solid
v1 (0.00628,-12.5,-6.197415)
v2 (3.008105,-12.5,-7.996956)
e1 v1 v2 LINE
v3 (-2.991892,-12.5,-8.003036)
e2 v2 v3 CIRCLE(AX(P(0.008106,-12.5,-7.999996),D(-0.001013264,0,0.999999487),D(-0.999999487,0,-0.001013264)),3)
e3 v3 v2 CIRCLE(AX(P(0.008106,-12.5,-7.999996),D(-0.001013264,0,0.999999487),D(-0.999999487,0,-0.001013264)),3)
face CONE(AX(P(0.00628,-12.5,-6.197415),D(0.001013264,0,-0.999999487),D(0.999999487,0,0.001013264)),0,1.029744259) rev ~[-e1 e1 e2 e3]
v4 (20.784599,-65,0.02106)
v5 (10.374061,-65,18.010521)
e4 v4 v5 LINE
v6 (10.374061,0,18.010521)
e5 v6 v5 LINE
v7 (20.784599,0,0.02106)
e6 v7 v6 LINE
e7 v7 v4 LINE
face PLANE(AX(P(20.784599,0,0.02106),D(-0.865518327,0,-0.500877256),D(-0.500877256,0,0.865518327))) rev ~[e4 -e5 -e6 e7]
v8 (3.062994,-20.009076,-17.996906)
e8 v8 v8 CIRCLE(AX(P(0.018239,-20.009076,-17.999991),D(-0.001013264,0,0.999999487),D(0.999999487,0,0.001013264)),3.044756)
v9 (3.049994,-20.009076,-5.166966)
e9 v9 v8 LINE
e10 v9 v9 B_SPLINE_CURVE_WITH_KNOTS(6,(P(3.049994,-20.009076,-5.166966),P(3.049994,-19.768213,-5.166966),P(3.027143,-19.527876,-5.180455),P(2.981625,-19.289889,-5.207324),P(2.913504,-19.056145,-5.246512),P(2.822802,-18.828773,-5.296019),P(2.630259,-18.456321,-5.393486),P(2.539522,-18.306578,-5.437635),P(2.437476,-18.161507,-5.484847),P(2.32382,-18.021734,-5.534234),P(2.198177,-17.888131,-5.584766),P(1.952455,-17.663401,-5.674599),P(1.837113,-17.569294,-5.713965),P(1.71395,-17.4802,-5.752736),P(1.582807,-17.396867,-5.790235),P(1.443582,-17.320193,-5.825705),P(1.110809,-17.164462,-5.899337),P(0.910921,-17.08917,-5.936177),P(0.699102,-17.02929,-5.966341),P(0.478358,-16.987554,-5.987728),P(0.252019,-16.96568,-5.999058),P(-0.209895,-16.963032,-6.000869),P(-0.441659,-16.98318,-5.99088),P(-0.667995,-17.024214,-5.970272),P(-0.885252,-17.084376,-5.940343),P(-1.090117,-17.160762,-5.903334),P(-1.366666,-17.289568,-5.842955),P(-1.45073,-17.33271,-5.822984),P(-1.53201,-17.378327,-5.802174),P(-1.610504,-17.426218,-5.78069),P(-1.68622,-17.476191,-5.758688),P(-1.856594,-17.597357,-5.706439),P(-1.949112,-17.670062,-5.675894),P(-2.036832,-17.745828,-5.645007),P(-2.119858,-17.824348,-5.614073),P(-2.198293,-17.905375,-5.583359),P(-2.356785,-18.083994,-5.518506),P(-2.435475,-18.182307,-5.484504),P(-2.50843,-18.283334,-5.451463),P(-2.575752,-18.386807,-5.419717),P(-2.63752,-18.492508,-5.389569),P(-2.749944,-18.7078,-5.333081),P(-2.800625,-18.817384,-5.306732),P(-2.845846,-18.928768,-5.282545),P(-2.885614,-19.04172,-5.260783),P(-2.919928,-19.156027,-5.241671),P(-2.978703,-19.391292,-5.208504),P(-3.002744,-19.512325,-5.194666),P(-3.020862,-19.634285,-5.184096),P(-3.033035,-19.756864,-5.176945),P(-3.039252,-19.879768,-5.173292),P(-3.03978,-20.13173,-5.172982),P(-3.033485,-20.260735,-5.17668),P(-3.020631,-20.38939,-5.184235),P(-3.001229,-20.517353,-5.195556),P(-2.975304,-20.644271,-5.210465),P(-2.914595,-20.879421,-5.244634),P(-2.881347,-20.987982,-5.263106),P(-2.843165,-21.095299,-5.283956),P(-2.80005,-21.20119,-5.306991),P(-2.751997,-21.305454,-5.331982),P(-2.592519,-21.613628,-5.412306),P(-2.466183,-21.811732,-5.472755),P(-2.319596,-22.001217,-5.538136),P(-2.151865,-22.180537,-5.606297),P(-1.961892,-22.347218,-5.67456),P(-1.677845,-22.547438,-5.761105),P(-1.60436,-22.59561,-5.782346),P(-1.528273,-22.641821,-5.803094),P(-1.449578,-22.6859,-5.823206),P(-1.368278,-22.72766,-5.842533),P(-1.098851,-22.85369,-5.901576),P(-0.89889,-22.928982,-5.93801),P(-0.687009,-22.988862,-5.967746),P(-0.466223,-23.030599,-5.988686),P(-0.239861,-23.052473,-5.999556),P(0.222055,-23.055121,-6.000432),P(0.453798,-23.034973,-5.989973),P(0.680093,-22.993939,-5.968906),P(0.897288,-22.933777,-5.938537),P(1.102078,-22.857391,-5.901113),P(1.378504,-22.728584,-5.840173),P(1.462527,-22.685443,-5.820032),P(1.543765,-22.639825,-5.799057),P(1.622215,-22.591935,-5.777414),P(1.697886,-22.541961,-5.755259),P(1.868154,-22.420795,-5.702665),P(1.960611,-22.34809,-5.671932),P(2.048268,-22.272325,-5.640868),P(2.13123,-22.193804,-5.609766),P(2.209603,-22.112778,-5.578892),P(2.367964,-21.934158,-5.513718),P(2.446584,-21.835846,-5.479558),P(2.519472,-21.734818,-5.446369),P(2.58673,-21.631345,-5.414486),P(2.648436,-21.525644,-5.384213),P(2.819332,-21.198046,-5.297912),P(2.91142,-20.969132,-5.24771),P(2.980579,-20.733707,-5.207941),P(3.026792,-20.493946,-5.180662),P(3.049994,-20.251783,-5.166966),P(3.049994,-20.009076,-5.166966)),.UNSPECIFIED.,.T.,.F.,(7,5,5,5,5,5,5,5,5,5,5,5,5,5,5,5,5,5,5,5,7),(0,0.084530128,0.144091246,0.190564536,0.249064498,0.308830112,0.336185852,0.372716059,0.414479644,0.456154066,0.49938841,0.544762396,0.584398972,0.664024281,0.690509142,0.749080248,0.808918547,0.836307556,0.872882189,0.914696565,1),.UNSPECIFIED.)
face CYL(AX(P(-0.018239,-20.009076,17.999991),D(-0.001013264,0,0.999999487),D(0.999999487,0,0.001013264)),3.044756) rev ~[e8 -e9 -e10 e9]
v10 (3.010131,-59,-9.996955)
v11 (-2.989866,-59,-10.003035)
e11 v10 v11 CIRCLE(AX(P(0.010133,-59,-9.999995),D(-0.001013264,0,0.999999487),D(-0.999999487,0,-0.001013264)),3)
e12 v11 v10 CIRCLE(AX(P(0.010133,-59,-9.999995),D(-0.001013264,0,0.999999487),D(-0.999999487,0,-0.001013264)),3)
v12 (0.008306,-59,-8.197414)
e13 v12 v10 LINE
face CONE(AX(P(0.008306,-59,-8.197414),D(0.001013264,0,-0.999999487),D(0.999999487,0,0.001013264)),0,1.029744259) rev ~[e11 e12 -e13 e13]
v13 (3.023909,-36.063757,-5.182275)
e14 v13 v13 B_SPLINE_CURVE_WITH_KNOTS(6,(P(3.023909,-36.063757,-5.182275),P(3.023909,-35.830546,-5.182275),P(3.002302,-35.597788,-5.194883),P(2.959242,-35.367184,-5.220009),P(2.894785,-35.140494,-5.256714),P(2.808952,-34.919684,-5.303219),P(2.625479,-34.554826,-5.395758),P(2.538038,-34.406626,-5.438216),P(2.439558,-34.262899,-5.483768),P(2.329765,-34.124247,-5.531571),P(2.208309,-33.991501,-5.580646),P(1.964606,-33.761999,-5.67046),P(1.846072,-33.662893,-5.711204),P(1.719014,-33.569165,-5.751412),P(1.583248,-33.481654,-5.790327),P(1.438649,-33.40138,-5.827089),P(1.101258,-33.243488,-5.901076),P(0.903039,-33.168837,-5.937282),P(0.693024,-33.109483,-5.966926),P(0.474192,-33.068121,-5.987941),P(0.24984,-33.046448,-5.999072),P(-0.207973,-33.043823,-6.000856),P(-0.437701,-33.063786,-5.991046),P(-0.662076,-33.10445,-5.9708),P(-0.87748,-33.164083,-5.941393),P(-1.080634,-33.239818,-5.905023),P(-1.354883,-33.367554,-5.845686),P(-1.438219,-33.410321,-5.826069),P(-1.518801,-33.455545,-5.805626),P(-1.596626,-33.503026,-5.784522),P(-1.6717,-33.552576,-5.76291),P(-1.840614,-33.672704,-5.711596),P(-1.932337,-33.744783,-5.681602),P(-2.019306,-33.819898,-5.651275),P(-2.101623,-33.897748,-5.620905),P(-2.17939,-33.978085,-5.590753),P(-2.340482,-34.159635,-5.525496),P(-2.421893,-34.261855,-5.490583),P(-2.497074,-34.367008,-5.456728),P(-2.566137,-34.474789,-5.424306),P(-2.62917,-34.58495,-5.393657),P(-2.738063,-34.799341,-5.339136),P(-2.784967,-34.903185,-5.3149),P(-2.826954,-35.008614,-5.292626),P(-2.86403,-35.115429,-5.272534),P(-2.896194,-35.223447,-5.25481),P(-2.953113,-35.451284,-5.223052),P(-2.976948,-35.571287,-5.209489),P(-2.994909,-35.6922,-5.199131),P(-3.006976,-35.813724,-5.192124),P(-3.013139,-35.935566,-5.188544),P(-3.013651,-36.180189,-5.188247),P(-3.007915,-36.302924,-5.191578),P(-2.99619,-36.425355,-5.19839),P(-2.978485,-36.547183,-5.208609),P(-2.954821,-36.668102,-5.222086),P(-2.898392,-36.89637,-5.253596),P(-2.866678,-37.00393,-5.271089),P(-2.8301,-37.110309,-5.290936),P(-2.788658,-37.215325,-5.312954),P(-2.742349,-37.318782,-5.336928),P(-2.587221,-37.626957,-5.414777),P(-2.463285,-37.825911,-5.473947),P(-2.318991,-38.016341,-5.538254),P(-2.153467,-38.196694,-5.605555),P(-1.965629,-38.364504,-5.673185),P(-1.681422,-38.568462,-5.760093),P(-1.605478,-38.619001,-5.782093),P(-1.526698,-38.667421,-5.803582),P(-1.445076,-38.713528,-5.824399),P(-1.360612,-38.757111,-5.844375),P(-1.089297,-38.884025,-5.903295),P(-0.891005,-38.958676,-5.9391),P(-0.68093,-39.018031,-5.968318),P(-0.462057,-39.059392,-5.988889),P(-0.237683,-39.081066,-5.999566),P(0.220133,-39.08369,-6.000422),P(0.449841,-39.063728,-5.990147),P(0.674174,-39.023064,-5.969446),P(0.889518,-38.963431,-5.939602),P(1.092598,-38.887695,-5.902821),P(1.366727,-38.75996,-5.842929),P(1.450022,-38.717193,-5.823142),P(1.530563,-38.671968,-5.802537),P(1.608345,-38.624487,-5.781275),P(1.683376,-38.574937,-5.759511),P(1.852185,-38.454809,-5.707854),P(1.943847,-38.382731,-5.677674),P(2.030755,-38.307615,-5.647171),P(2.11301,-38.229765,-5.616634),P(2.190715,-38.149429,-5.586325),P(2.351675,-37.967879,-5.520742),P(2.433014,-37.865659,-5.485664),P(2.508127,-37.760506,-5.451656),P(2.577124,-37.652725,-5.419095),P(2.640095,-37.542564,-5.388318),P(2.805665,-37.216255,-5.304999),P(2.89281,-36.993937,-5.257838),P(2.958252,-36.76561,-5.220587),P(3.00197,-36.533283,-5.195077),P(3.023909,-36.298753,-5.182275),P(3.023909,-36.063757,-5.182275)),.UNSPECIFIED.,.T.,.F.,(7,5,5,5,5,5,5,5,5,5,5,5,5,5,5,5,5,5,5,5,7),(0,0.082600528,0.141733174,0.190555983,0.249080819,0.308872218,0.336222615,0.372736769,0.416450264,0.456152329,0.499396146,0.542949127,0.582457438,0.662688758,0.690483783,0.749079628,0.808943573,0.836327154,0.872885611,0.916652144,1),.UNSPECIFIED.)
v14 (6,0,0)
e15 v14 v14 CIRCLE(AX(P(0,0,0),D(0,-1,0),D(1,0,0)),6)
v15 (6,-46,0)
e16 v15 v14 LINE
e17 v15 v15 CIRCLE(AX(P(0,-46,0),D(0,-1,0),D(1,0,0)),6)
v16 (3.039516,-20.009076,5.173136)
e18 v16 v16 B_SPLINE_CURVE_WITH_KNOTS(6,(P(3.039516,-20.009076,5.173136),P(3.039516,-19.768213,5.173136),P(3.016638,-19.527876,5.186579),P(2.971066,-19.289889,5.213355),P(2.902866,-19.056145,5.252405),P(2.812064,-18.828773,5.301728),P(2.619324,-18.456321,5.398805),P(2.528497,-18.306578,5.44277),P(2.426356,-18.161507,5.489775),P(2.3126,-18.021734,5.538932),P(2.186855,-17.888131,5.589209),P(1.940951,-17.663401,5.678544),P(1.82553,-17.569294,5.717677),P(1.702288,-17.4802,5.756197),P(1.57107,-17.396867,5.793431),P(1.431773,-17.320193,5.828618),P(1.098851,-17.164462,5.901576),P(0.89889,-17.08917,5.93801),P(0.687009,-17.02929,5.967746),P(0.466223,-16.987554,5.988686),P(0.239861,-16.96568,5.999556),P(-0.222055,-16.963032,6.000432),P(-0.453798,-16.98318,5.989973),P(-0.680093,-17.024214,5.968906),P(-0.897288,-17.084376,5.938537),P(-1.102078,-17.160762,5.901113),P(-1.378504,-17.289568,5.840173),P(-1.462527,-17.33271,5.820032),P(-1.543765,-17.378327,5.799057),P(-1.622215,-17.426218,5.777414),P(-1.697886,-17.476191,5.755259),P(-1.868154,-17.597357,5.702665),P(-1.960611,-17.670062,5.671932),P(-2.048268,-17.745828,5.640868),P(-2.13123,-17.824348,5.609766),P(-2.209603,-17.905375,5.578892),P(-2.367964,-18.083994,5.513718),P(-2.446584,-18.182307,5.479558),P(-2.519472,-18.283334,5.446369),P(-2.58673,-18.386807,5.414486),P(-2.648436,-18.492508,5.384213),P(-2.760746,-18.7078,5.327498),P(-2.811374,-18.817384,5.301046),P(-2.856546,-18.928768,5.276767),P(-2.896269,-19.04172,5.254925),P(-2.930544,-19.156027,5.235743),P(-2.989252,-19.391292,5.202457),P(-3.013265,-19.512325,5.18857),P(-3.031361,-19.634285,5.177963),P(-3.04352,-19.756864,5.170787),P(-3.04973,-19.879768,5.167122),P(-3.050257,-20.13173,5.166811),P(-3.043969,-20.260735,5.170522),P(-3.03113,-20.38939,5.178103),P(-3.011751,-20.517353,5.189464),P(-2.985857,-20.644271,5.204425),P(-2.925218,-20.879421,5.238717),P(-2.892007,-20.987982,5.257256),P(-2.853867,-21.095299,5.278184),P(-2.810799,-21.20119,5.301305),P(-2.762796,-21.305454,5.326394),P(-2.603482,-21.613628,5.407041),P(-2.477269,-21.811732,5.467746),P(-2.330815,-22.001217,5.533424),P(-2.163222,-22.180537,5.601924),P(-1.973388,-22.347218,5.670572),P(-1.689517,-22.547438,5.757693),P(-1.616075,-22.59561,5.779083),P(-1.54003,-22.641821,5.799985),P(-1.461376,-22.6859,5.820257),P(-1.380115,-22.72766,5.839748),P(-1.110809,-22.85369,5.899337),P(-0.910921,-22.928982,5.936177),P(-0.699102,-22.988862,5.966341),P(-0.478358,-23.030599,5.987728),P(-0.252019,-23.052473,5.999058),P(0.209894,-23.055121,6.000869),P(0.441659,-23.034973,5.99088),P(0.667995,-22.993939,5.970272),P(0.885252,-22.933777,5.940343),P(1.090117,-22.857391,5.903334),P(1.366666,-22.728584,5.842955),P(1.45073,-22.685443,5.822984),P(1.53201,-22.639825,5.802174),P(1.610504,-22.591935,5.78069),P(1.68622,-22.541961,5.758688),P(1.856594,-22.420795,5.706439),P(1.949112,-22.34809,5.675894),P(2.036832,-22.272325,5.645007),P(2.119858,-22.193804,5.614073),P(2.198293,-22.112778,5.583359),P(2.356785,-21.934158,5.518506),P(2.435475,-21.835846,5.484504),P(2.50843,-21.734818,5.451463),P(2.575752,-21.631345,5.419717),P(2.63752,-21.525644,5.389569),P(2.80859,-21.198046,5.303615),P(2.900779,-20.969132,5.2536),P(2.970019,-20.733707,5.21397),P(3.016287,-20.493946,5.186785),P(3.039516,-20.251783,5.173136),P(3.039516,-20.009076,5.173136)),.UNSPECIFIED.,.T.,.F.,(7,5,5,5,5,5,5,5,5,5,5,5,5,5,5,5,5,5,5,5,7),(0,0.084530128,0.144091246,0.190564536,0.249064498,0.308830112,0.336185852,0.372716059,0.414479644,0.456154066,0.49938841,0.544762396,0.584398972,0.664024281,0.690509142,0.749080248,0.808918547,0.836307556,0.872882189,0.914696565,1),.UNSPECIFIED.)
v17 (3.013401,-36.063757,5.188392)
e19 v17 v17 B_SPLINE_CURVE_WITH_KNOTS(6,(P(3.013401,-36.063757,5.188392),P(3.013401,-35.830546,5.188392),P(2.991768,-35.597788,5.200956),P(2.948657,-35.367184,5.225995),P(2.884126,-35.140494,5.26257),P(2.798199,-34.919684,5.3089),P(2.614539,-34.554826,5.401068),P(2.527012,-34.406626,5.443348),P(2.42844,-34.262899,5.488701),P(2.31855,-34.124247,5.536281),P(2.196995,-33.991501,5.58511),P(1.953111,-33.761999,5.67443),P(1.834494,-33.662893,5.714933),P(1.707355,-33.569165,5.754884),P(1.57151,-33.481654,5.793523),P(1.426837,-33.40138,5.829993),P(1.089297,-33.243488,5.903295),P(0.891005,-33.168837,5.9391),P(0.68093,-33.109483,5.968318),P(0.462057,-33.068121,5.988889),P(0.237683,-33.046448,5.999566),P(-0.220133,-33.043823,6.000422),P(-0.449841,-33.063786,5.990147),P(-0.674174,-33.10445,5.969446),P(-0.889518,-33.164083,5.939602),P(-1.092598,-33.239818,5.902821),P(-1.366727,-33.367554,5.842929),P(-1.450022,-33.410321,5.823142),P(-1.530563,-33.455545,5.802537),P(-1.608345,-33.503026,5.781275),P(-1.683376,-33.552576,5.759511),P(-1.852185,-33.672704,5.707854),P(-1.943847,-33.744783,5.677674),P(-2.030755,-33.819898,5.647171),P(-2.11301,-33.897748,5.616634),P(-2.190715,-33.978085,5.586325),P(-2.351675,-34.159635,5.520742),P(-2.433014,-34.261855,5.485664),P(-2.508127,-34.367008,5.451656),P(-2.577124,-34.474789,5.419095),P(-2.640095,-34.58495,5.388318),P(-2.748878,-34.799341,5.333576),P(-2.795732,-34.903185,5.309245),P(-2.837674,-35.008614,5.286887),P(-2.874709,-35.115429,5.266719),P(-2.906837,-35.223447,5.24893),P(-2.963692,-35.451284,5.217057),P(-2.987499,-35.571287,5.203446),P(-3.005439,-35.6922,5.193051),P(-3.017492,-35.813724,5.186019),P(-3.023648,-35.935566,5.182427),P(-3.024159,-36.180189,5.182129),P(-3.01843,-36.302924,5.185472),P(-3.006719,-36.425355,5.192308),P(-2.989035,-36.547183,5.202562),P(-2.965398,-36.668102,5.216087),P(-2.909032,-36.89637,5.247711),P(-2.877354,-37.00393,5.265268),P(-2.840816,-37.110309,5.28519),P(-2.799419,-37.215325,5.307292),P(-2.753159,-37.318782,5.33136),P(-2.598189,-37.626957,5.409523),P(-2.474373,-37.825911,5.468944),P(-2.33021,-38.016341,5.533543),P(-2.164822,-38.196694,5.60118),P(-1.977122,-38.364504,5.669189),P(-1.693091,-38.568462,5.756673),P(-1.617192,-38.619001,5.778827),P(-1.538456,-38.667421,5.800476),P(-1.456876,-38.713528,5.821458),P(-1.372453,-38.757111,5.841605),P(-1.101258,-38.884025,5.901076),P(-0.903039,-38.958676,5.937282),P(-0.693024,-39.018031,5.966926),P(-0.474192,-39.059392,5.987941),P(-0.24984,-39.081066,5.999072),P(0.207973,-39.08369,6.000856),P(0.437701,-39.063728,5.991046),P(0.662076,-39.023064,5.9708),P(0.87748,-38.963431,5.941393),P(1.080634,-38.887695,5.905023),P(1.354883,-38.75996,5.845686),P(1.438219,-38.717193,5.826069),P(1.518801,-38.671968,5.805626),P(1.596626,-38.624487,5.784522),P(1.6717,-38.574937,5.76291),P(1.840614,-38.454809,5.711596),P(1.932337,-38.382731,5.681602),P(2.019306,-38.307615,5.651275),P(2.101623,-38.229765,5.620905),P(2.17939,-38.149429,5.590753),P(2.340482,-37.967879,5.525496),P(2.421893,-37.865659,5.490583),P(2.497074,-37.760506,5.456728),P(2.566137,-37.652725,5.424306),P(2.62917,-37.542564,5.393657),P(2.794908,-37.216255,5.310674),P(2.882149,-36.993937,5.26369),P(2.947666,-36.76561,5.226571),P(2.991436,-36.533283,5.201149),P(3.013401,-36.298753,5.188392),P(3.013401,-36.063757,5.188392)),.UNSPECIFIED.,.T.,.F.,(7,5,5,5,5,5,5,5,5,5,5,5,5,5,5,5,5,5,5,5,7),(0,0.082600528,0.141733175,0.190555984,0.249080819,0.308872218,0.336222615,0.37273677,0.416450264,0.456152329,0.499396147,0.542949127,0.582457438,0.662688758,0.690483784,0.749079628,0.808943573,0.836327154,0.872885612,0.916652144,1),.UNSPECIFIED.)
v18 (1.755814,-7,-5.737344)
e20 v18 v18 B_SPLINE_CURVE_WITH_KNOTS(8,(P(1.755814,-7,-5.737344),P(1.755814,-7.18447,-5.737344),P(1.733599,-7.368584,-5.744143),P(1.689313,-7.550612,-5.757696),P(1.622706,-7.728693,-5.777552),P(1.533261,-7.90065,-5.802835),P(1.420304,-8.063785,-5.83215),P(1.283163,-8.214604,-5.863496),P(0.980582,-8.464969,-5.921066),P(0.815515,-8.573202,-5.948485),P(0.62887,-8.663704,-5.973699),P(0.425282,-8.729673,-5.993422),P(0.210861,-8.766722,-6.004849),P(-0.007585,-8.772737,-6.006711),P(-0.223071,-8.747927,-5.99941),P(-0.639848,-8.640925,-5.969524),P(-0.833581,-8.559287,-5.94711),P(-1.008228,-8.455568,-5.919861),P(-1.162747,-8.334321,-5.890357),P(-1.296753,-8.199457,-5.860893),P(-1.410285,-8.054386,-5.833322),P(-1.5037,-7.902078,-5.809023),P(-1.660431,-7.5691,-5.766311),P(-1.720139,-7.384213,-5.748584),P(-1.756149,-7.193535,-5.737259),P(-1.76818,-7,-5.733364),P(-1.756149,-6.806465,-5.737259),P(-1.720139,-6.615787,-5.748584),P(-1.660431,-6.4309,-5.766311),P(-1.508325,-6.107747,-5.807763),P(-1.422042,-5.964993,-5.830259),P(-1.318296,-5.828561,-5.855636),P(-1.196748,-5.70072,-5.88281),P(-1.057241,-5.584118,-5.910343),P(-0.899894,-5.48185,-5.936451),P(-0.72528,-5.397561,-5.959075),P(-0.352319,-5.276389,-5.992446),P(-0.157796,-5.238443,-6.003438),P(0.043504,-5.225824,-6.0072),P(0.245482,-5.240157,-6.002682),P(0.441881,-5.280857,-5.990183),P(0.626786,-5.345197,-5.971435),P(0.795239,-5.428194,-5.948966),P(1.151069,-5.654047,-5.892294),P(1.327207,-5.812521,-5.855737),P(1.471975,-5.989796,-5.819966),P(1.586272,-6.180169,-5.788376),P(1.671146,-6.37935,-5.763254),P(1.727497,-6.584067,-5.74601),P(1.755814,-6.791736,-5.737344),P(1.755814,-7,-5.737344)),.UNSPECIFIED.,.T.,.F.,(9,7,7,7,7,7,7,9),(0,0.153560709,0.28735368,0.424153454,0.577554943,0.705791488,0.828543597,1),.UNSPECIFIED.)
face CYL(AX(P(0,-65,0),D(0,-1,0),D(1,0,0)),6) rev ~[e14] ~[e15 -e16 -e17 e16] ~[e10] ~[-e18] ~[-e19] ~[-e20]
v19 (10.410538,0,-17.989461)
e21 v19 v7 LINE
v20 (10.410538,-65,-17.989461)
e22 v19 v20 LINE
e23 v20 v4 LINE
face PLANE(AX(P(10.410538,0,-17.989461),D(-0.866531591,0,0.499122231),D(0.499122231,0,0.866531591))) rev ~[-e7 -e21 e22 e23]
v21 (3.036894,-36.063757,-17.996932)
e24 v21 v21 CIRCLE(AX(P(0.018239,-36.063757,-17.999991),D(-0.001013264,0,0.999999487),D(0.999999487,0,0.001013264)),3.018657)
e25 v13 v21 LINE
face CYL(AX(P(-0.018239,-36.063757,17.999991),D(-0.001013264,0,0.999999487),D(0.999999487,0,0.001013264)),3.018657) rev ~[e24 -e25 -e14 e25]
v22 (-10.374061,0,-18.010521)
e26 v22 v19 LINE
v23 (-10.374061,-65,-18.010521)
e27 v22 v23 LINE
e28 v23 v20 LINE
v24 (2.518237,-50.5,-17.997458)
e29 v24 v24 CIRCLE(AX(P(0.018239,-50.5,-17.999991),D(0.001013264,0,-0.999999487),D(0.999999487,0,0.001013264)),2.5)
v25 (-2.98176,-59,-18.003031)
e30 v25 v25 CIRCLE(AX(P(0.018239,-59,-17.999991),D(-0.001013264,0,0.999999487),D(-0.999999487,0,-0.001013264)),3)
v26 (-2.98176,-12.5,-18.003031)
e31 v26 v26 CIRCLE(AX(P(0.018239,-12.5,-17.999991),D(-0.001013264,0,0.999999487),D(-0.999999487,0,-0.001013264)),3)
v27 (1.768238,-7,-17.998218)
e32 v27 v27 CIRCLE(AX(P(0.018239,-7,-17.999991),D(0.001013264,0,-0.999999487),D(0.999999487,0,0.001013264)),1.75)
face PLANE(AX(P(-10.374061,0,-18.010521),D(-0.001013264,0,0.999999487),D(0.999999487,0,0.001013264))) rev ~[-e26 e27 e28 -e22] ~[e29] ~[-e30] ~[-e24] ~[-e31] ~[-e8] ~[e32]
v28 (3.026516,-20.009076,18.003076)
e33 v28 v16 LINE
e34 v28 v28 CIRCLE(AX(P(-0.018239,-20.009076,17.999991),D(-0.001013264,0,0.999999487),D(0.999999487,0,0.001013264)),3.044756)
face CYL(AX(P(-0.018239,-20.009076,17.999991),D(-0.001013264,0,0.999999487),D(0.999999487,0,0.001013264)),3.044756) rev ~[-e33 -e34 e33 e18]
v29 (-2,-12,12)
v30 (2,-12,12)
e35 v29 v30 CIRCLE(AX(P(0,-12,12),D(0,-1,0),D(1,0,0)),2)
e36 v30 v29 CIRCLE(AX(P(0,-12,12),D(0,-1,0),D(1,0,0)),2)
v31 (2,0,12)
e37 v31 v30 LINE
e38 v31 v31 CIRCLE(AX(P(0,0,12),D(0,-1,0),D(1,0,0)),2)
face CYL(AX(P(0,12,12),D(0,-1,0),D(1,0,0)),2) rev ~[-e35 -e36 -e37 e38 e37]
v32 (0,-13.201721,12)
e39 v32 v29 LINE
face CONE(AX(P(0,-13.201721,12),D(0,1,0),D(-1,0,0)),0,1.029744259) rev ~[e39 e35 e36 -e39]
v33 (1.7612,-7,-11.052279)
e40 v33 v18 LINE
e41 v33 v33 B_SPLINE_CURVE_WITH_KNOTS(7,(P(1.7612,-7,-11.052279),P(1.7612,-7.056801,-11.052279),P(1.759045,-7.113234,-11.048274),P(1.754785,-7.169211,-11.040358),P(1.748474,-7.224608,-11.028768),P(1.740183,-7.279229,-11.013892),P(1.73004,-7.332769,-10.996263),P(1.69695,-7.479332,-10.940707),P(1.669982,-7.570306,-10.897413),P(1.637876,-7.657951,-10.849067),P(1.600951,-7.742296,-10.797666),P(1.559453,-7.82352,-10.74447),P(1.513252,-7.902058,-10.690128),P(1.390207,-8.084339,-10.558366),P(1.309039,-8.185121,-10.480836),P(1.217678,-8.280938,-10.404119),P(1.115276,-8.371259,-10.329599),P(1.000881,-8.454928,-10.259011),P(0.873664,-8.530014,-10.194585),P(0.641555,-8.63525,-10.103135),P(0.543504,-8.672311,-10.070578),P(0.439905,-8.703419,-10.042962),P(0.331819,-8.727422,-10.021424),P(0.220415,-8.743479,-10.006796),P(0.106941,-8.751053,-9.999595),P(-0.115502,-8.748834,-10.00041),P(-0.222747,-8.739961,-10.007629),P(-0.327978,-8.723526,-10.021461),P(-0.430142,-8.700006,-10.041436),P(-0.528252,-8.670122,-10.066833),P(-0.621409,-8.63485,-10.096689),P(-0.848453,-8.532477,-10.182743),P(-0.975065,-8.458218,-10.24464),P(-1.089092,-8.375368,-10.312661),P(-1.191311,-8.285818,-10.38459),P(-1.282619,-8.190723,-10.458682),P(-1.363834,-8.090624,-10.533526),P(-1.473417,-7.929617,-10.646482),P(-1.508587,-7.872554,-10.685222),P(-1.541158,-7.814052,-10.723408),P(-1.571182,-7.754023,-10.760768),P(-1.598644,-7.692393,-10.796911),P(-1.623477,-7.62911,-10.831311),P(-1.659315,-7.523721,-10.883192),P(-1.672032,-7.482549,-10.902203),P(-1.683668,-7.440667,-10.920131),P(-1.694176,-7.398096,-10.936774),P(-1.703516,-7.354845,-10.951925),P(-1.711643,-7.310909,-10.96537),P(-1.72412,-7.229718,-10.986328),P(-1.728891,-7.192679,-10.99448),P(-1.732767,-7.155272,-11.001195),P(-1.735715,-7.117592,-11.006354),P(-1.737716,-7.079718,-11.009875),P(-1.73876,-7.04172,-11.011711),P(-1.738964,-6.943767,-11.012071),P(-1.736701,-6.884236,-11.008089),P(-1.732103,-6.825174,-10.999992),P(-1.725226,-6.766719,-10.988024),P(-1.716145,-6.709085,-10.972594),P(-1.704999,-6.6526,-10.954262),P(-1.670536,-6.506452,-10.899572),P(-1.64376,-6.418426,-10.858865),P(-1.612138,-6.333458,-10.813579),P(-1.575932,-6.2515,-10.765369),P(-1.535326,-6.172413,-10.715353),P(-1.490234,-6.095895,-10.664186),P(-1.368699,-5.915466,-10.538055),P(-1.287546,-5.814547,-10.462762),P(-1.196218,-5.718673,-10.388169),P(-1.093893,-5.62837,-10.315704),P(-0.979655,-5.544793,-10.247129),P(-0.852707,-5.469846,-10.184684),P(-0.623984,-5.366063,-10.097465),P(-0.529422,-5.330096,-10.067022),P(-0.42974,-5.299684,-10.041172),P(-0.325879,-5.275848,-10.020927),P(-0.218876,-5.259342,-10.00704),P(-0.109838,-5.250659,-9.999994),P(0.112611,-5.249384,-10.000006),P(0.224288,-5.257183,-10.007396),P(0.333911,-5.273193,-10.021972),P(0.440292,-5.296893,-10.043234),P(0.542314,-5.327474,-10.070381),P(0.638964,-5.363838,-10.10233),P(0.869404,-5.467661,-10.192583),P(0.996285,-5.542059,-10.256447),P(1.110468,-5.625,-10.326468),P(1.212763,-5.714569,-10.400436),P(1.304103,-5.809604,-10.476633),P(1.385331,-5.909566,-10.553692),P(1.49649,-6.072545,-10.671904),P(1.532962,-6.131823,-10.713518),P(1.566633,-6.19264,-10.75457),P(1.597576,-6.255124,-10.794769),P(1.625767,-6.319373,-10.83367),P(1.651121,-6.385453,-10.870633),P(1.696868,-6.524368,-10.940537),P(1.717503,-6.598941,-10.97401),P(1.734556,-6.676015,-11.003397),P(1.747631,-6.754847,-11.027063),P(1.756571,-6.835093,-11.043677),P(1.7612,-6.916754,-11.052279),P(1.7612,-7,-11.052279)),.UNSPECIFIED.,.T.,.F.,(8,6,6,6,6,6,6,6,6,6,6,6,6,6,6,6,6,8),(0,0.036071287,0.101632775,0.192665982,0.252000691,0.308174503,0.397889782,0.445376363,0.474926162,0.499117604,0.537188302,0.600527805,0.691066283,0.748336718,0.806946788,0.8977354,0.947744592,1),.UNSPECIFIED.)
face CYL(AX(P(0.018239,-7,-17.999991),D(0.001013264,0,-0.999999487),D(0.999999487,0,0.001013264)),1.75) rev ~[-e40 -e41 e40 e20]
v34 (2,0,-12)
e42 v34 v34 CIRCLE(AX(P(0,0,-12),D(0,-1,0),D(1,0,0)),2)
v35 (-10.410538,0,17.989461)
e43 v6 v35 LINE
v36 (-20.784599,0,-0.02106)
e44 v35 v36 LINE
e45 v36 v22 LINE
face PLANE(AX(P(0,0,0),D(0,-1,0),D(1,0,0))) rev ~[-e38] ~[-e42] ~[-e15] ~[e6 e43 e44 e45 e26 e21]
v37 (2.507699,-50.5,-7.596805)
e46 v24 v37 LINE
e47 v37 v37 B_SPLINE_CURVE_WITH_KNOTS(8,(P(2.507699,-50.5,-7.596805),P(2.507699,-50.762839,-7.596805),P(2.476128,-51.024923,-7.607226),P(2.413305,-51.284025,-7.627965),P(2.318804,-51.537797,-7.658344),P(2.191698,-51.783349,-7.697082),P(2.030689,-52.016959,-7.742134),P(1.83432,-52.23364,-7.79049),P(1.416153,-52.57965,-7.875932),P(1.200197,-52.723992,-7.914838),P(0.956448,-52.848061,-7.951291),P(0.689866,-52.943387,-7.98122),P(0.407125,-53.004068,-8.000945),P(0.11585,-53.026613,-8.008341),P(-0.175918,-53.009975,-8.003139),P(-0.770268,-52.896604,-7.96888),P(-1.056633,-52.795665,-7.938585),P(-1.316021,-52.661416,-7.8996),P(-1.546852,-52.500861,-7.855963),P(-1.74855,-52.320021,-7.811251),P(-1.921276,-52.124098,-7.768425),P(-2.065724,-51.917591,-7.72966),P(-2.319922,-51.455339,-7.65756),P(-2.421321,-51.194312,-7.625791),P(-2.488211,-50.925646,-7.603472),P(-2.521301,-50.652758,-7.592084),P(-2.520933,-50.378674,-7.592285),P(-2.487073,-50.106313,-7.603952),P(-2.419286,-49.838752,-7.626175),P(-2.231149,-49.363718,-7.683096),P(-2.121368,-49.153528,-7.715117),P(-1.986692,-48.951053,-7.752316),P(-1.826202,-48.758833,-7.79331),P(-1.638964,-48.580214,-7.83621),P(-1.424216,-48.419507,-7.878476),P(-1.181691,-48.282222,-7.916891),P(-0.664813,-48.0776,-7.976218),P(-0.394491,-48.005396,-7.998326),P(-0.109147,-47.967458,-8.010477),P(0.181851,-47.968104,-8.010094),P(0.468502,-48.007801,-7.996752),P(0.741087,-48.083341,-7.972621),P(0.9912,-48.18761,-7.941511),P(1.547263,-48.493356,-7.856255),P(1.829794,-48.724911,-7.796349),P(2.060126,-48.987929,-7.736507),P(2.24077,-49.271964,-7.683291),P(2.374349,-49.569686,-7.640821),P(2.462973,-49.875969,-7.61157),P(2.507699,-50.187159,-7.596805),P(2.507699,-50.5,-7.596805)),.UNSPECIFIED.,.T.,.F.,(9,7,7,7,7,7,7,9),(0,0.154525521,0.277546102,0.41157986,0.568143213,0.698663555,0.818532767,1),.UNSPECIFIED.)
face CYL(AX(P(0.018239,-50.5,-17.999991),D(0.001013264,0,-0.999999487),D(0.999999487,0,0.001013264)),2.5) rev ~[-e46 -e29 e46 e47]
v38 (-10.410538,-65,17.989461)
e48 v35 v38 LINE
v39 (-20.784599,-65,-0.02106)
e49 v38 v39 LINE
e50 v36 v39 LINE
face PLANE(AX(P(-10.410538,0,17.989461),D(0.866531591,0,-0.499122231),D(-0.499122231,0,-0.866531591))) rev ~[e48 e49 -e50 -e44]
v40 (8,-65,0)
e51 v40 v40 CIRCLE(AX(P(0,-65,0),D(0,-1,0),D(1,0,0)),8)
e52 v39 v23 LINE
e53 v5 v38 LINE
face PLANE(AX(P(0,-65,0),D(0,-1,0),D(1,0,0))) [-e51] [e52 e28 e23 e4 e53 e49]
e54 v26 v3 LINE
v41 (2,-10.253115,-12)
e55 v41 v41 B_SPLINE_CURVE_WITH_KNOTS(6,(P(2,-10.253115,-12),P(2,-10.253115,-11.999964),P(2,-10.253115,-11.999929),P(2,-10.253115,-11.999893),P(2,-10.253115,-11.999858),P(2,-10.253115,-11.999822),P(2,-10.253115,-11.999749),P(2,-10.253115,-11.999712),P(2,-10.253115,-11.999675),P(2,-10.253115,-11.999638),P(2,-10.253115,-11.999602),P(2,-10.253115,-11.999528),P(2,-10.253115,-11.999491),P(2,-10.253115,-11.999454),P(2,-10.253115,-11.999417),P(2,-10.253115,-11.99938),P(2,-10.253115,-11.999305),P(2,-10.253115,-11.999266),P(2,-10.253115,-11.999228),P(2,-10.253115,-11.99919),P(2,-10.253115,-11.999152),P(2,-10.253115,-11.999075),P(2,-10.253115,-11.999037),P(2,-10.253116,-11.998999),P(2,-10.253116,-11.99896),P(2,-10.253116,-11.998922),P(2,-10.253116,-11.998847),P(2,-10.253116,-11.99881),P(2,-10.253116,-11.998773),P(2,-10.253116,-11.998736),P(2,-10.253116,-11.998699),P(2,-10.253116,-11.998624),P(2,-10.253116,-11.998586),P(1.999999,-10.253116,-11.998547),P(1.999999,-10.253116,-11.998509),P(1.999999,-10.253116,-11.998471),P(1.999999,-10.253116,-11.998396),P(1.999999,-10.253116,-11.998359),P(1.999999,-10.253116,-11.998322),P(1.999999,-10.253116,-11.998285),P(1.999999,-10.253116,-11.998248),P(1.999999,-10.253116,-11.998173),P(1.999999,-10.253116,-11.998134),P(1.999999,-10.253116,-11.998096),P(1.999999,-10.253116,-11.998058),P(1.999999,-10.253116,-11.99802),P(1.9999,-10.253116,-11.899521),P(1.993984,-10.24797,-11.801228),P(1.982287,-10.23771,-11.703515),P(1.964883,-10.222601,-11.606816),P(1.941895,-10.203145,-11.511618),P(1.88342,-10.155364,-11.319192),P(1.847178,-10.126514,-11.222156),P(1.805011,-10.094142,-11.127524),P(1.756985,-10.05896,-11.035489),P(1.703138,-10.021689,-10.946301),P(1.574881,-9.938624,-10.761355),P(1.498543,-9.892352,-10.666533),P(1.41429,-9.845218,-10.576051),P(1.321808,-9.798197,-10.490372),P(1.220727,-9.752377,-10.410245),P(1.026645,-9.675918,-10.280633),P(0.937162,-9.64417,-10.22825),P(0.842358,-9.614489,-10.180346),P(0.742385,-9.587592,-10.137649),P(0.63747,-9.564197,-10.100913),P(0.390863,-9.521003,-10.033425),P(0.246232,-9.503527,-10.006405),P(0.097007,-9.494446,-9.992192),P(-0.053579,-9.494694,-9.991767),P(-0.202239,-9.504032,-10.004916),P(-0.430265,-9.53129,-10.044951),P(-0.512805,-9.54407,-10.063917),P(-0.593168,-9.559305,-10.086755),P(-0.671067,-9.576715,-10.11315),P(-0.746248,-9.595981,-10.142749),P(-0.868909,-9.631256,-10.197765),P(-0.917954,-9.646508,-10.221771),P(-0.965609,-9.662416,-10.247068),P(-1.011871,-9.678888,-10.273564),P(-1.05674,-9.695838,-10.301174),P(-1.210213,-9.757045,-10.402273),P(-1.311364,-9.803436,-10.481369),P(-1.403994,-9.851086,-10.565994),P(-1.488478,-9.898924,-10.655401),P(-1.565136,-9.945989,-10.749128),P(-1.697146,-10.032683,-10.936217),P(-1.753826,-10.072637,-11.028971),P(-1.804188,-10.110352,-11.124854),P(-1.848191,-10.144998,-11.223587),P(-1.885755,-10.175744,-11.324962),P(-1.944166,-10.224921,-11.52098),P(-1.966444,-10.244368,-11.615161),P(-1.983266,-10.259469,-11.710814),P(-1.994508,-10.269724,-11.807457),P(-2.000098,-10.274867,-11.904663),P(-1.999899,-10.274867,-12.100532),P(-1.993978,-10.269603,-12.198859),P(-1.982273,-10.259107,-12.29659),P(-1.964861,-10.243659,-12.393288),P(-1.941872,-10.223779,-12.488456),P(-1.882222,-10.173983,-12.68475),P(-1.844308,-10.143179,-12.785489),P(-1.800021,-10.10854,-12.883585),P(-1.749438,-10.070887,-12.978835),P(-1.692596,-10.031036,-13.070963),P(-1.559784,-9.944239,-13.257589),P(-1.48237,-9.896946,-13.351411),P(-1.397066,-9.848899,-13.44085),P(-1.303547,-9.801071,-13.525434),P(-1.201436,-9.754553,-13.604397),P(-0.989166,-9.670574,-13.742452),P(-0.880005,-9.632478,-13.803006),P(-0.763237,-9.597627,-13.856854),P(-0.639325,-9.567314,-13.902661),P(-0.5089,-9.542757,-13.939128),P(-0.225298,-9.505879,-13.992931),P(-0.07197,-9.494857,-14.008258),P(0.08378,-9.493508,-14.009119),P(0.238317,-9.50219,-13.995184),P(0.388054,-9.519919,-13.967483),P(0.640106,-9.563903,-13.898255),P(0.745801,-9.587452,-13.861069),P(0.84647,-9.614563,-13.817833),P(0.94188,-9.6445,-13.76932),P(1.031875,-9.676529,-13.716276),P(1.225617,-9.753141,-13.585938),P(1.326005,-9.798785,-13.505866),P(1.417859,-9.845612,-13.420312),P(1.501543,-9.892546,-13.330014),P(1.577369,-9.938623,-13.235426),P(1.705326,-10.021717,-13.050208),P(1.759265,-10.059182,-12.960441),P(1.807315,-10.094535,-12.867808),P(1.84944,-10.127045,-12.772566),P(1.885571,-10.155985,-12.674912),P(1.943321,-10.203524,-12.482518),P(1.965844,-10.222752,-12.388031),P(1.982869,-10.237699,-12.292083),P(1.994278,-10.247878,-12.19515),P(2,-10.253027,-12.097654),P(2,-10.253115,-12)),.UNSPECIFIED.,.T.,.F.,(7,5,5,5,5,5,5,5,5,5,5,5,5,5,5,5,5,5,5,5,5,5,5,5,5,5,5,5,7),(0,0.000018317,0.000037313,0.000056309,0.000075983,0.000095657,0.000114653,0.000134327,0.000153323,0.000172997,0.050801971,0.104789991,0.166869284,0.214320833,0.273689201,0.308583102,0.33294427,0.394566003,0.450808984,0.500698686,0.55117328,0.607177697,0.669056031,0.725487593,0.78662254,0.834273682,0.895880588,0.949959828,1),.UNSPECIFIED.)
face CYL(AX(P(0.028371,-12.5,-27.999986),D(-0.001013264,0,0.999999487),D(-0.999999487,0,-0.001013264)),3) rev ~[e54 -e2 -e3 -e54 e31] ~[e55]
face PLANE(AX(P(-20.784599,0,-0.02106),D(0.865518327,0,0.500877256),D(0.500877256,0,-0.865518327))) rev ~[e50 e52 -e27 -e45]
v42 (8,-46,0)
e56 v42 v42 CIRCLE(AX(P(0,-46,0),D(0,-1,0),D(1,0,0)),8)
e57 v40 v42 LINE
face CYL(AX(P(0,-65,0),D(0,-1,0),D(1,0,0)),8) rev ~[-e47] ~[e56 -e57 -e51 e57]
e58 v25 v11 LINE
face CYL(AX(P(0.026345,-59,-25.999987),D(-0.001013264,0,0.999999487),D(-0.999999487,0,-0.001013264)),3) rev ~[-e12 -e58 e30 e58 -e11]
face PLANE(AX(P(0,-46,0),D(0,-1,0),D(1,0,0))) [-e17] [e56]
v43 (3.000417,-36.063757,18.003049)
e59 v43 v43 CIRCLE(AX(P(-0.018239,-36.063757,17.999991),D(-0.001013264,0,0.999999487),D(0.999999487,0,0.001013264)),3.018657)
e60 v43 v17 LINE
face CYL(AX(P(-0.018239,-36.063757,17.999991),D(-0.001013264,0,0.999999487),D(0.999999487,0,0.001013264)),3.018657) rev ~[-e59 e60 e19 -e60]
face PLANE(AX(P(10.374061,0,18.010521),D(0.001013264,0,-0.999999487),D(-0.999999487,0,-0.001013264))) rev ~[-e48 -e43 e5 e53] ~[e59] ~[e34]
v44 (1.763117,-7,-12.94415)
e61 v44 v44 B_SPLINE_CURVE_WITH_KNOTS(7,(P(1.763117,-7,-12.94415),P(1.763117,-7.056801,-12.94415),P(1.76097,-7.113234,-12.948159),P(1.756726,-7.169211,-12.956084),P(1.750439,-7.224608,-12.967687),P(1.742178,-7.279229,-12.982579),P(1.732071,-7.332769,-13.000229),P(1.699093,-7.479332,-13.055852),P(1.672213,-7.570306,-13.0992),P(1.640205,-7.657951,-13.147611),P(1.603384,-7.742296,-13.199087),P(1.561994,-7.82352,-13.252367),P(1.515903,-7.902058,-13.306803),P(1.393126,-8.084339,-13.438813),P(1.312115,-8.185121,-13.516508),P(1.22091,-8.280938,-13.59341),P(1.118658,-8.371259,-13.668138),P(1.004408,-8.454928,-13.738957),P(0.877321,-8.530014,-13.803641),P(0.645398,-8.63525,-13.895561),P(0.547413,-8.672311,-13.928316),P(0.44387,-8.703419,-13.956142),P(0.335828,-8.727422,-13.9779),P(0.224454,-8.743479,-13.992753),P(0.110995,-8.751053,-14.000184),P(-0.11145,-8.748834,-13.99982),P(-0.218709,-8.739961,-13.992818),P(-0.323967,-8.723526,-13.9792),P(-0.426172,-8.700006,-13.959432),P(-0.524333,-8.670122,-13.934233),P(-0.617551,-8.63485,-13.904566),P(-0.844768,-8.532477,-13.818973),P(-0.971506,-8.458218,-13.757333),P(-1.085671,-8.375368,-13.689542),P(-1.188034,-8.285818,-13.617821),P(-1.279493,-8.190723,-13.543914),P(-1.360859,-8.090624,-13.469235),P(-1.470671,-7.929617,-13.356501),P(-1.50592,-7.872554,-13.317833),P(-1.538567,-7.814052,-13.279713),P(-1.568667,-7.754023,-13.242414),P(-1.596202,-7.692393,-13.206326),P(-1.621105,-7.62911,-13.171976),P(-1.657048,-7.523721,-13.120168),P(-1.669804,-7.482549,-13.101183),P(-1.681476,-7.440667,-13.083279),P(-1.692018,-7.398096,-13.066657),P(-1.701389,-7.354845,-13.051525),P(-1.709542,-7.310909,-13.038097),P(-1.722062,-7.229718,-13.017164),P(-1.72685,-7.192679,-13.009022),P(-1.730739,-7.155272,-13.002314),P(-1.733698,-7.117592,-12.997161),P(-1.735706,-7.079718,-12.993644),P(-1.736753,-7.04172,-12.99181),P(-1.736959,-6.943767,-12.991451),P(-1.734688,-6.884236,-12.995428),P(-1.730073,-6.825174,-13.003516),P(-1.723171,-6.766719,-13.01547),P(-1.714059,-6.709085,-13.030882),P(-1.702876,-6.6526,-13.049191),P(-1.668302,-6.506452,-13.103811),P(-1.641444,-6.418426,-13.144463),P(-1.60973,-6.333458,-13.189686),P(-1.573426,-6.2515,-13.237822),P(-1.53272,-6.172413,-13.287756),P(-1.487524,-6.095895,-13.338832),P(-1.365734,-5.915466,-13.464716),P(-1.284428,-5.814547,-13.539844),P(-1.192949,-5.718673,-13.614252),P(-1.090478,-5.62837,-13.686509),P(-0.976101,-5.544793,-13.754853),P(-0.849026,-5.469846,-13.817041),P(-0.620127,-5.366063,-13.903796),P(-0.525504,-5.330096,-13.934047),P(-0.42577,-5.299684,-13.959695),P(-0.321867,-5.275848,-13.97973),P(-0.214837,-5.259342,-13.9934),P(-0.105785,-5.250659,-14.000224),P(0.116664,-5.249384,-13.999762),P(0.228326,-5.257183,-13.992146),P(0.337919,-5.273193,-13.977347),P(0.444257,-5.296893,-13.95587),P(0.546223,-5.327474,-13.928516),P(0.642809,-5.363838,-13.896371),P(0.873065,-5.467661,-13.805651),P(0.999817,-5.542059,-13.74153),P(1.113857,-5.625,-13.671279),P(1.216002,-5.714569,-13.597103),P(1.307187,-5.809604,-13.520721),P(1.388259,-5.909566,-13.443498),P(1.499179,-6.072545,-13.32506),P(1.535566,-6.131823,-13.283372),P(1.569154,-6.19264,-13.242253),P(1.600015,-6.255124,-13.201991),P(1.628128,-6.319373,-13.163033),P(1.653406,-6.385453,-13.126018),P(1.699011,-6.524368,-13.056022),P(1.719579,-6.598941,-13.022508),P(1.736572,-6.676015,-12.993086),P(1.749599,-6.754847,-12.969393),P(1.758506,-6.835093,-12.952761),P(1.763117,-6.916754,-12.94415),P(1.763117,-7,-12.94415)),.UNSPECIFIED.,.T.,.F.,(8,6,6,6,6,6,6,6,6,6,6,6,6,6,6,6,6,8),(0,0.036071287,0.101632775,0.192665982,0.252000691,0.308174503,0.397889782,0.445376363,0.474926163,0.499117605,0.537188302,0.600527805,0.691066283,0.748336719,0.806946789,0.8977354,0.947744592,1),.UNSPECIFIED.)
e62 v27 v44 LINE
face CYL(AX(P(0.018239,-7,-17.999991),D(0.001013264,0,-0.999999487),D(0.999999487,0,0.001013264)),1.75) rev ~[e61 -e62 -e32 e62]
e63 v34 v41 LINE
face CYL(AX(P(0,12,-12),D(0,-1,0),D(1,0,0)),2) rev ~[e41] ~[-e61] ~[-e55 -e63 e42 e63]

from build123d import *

# Parameters (mm, degrees)
F1_DEPTH  = 65
F2_R      = 6
F3_DEPTH  = 65
F4_R      = 3.0447564862
F5_DEPTH  = 36
F6_R      = 3.0186568284
F7_DEPTH  = 36
F8_R      = 1.75
F9_DEPTH  = 14
F10_R     = 2.5
F11_DEPTH = 14
F12_R     = 8
F12_R_2   = 6
F13_DEPTH = 19
F16_D     = 4
F16_DEPTH = 12
F16_TIP   = 1.2017212381
F18_D     = 4
F18_DEPTH = 12
F18_TIP   = 1.2017212381
F20_D     = 6
F20_DEPTH = 8
F20_TIP   = 1.8025818571
F22_D     = 6
F22_DEPTH = 10
F22_TIP   = 1.8025818571


with BuildPart() as f1:
    # F0 (on Front) → F1 (new body)
    with BuildSketch(Plane.XZ):
        Polygon((10.4105382668, -17.9894606088), (20.784599021, 0.0210603017), (10.3740607542, 18.0105209105), (-10.4105382668, 17.9894606088), (-20.784599021, -0.0210603017), (-10.3740607542, -18.0105209105), align=None)
    extrude(amount=F1_DEPTH)

    # F2 (on face) → F3 (cut)
    with BuildSketch(Plane.XZ.offset(65)):
        Circle(F2_R)
    extrude(amount=-F3_DEPTH, mode=Mode.SUBTRACT)

    # F4 (on face) → F5 (cut)
    with BuildSketch(Plane(origin=(-0.0182387563, 0, 17.9999907597), x_dir=(0.9999994866, 0, 0.0010132642), z_dir=(-0.0010132642, 0, 0.9999994866))):
        with Locations((0, -20.0090762228)):
            Circle(F4_R)
    extrude(amount=-F5_DEPTH, mode=Mode.SUBTRACT)

    # F6 (on face) → F7 (cut)
    with BuildSketch(Plane(origin=(-0.0182387563, 0, 17.9999907597), x_dir=(0.9999994866, 0, 0.0010132642), z_dir=(-0.0010132642, 0, 0.9999994866))):
        with Locations((0, -36.0637567937)):
            Circle(F6_R)
    extrude(amount=-F7_DEPTH, mode=Mode.SUBTRACT)

    # F8 (on face) → F9 (cut)
    with BuildSketch(Plane(origin=(0.0182387563, 0, -17.9999907597), x_dir=(0.9999994866, 0, 0.0010132642), z_dir=(0.0010132642, 0, -0.9999994866))):
        with Locations((0, 7)):
            Circle(F8_R)
    extrude(amount=-F9_DEPTH, mode=Mode.SUBTRACT)

    # F10 (on face) → F11 (cut)
    with BuildSketch(Plane(origin=(0.0182387563, 0, -17.9999907597), x_dir=(0.9999994866, 0, 0.0010132642), z_dir=(0.0010132642, 0, -0.9999994866))):
        with Locations((0, 50.5)):
            Circle(F10_R)
    extrude(amount=-F11_DEPTH, mode=Mode.SUBTRACT)

    # F12 (on face) → F13 (cut)
    with BuildSketch(Plane.XZ.offset(65)):
        Circle(F12_R)
        Circle(F12_R_2, mode=Mode.SUBTRACT)
    extrude(amount=-F13_DEPTH, mode=Mode.SUBTRACT)

    # F16
    with Locations(Plane(origin=(0, 0, 0), x_dir=(-1, 0, 0), z_dir=(0, 1, 0))):
        with Locations((0, 12)):
            Hole(F16_D / 2, depth=F16_DEPTH)
            with Locations((0, 0, -(F16_DEPTH + F16_TIP / 2))):  # 118° drill point
                Cone(0, F16_D / 2, F16_TIP, mode=Mode.SUBTRACT)

    # F18
    with Locations(Plane(origin=(0, 0, 0), x_dir=(-1, 0, 0), z_dir=(0, 1, 0))):
        with Locations((0, -12)):
            Hole(F18_D / 2, depth=F18_DEPTH)
            with Locations((0, 0, -(F18_DEPTH + F18_TIP / 2))):  # 118° drill point
                Cone(0, F18_D / 2, F18_TIP, mode=Mode.SUBTRACT)

    # F20
    with Locations(Plane(origin=(0.0182387563, 0, -17.9999907597), x_dir=(0.9999994866, 0, 0.0010132642), z_dir=(0.0010132642, 0, -0.9999994866))):
        with Locations((0, 59)):
            Hole(F20_D / 2, depth=F20_DEPTH)
            with Locations((0, 0, -(F20_DEPTH + F20_TIP / 2))):  # 118° drill point
                Cone(0, F20_D / 2, F20_TIP, mode=Mode.SUBTRACT)

    # F22
    with Locations(Plane(origin=(0.0182387563, 0, -17.9999907597), x_dir=(0.9999994866, 0, 0.0010132642), z_dir=(0.0010132642, 0, -0.9999994866))):
        with Locations((0, 12.5)):
            Hole(F22_D / 2, depth=F22_DEPTH)
            with Locations((0, 0, -(F22_DEPTH + F22_TIP / 2))):  # 118° drill point
                Cone(0, F22_D / 2, F22_TIP, mode=Mode.SUBTRACT)


solid = f1.part
